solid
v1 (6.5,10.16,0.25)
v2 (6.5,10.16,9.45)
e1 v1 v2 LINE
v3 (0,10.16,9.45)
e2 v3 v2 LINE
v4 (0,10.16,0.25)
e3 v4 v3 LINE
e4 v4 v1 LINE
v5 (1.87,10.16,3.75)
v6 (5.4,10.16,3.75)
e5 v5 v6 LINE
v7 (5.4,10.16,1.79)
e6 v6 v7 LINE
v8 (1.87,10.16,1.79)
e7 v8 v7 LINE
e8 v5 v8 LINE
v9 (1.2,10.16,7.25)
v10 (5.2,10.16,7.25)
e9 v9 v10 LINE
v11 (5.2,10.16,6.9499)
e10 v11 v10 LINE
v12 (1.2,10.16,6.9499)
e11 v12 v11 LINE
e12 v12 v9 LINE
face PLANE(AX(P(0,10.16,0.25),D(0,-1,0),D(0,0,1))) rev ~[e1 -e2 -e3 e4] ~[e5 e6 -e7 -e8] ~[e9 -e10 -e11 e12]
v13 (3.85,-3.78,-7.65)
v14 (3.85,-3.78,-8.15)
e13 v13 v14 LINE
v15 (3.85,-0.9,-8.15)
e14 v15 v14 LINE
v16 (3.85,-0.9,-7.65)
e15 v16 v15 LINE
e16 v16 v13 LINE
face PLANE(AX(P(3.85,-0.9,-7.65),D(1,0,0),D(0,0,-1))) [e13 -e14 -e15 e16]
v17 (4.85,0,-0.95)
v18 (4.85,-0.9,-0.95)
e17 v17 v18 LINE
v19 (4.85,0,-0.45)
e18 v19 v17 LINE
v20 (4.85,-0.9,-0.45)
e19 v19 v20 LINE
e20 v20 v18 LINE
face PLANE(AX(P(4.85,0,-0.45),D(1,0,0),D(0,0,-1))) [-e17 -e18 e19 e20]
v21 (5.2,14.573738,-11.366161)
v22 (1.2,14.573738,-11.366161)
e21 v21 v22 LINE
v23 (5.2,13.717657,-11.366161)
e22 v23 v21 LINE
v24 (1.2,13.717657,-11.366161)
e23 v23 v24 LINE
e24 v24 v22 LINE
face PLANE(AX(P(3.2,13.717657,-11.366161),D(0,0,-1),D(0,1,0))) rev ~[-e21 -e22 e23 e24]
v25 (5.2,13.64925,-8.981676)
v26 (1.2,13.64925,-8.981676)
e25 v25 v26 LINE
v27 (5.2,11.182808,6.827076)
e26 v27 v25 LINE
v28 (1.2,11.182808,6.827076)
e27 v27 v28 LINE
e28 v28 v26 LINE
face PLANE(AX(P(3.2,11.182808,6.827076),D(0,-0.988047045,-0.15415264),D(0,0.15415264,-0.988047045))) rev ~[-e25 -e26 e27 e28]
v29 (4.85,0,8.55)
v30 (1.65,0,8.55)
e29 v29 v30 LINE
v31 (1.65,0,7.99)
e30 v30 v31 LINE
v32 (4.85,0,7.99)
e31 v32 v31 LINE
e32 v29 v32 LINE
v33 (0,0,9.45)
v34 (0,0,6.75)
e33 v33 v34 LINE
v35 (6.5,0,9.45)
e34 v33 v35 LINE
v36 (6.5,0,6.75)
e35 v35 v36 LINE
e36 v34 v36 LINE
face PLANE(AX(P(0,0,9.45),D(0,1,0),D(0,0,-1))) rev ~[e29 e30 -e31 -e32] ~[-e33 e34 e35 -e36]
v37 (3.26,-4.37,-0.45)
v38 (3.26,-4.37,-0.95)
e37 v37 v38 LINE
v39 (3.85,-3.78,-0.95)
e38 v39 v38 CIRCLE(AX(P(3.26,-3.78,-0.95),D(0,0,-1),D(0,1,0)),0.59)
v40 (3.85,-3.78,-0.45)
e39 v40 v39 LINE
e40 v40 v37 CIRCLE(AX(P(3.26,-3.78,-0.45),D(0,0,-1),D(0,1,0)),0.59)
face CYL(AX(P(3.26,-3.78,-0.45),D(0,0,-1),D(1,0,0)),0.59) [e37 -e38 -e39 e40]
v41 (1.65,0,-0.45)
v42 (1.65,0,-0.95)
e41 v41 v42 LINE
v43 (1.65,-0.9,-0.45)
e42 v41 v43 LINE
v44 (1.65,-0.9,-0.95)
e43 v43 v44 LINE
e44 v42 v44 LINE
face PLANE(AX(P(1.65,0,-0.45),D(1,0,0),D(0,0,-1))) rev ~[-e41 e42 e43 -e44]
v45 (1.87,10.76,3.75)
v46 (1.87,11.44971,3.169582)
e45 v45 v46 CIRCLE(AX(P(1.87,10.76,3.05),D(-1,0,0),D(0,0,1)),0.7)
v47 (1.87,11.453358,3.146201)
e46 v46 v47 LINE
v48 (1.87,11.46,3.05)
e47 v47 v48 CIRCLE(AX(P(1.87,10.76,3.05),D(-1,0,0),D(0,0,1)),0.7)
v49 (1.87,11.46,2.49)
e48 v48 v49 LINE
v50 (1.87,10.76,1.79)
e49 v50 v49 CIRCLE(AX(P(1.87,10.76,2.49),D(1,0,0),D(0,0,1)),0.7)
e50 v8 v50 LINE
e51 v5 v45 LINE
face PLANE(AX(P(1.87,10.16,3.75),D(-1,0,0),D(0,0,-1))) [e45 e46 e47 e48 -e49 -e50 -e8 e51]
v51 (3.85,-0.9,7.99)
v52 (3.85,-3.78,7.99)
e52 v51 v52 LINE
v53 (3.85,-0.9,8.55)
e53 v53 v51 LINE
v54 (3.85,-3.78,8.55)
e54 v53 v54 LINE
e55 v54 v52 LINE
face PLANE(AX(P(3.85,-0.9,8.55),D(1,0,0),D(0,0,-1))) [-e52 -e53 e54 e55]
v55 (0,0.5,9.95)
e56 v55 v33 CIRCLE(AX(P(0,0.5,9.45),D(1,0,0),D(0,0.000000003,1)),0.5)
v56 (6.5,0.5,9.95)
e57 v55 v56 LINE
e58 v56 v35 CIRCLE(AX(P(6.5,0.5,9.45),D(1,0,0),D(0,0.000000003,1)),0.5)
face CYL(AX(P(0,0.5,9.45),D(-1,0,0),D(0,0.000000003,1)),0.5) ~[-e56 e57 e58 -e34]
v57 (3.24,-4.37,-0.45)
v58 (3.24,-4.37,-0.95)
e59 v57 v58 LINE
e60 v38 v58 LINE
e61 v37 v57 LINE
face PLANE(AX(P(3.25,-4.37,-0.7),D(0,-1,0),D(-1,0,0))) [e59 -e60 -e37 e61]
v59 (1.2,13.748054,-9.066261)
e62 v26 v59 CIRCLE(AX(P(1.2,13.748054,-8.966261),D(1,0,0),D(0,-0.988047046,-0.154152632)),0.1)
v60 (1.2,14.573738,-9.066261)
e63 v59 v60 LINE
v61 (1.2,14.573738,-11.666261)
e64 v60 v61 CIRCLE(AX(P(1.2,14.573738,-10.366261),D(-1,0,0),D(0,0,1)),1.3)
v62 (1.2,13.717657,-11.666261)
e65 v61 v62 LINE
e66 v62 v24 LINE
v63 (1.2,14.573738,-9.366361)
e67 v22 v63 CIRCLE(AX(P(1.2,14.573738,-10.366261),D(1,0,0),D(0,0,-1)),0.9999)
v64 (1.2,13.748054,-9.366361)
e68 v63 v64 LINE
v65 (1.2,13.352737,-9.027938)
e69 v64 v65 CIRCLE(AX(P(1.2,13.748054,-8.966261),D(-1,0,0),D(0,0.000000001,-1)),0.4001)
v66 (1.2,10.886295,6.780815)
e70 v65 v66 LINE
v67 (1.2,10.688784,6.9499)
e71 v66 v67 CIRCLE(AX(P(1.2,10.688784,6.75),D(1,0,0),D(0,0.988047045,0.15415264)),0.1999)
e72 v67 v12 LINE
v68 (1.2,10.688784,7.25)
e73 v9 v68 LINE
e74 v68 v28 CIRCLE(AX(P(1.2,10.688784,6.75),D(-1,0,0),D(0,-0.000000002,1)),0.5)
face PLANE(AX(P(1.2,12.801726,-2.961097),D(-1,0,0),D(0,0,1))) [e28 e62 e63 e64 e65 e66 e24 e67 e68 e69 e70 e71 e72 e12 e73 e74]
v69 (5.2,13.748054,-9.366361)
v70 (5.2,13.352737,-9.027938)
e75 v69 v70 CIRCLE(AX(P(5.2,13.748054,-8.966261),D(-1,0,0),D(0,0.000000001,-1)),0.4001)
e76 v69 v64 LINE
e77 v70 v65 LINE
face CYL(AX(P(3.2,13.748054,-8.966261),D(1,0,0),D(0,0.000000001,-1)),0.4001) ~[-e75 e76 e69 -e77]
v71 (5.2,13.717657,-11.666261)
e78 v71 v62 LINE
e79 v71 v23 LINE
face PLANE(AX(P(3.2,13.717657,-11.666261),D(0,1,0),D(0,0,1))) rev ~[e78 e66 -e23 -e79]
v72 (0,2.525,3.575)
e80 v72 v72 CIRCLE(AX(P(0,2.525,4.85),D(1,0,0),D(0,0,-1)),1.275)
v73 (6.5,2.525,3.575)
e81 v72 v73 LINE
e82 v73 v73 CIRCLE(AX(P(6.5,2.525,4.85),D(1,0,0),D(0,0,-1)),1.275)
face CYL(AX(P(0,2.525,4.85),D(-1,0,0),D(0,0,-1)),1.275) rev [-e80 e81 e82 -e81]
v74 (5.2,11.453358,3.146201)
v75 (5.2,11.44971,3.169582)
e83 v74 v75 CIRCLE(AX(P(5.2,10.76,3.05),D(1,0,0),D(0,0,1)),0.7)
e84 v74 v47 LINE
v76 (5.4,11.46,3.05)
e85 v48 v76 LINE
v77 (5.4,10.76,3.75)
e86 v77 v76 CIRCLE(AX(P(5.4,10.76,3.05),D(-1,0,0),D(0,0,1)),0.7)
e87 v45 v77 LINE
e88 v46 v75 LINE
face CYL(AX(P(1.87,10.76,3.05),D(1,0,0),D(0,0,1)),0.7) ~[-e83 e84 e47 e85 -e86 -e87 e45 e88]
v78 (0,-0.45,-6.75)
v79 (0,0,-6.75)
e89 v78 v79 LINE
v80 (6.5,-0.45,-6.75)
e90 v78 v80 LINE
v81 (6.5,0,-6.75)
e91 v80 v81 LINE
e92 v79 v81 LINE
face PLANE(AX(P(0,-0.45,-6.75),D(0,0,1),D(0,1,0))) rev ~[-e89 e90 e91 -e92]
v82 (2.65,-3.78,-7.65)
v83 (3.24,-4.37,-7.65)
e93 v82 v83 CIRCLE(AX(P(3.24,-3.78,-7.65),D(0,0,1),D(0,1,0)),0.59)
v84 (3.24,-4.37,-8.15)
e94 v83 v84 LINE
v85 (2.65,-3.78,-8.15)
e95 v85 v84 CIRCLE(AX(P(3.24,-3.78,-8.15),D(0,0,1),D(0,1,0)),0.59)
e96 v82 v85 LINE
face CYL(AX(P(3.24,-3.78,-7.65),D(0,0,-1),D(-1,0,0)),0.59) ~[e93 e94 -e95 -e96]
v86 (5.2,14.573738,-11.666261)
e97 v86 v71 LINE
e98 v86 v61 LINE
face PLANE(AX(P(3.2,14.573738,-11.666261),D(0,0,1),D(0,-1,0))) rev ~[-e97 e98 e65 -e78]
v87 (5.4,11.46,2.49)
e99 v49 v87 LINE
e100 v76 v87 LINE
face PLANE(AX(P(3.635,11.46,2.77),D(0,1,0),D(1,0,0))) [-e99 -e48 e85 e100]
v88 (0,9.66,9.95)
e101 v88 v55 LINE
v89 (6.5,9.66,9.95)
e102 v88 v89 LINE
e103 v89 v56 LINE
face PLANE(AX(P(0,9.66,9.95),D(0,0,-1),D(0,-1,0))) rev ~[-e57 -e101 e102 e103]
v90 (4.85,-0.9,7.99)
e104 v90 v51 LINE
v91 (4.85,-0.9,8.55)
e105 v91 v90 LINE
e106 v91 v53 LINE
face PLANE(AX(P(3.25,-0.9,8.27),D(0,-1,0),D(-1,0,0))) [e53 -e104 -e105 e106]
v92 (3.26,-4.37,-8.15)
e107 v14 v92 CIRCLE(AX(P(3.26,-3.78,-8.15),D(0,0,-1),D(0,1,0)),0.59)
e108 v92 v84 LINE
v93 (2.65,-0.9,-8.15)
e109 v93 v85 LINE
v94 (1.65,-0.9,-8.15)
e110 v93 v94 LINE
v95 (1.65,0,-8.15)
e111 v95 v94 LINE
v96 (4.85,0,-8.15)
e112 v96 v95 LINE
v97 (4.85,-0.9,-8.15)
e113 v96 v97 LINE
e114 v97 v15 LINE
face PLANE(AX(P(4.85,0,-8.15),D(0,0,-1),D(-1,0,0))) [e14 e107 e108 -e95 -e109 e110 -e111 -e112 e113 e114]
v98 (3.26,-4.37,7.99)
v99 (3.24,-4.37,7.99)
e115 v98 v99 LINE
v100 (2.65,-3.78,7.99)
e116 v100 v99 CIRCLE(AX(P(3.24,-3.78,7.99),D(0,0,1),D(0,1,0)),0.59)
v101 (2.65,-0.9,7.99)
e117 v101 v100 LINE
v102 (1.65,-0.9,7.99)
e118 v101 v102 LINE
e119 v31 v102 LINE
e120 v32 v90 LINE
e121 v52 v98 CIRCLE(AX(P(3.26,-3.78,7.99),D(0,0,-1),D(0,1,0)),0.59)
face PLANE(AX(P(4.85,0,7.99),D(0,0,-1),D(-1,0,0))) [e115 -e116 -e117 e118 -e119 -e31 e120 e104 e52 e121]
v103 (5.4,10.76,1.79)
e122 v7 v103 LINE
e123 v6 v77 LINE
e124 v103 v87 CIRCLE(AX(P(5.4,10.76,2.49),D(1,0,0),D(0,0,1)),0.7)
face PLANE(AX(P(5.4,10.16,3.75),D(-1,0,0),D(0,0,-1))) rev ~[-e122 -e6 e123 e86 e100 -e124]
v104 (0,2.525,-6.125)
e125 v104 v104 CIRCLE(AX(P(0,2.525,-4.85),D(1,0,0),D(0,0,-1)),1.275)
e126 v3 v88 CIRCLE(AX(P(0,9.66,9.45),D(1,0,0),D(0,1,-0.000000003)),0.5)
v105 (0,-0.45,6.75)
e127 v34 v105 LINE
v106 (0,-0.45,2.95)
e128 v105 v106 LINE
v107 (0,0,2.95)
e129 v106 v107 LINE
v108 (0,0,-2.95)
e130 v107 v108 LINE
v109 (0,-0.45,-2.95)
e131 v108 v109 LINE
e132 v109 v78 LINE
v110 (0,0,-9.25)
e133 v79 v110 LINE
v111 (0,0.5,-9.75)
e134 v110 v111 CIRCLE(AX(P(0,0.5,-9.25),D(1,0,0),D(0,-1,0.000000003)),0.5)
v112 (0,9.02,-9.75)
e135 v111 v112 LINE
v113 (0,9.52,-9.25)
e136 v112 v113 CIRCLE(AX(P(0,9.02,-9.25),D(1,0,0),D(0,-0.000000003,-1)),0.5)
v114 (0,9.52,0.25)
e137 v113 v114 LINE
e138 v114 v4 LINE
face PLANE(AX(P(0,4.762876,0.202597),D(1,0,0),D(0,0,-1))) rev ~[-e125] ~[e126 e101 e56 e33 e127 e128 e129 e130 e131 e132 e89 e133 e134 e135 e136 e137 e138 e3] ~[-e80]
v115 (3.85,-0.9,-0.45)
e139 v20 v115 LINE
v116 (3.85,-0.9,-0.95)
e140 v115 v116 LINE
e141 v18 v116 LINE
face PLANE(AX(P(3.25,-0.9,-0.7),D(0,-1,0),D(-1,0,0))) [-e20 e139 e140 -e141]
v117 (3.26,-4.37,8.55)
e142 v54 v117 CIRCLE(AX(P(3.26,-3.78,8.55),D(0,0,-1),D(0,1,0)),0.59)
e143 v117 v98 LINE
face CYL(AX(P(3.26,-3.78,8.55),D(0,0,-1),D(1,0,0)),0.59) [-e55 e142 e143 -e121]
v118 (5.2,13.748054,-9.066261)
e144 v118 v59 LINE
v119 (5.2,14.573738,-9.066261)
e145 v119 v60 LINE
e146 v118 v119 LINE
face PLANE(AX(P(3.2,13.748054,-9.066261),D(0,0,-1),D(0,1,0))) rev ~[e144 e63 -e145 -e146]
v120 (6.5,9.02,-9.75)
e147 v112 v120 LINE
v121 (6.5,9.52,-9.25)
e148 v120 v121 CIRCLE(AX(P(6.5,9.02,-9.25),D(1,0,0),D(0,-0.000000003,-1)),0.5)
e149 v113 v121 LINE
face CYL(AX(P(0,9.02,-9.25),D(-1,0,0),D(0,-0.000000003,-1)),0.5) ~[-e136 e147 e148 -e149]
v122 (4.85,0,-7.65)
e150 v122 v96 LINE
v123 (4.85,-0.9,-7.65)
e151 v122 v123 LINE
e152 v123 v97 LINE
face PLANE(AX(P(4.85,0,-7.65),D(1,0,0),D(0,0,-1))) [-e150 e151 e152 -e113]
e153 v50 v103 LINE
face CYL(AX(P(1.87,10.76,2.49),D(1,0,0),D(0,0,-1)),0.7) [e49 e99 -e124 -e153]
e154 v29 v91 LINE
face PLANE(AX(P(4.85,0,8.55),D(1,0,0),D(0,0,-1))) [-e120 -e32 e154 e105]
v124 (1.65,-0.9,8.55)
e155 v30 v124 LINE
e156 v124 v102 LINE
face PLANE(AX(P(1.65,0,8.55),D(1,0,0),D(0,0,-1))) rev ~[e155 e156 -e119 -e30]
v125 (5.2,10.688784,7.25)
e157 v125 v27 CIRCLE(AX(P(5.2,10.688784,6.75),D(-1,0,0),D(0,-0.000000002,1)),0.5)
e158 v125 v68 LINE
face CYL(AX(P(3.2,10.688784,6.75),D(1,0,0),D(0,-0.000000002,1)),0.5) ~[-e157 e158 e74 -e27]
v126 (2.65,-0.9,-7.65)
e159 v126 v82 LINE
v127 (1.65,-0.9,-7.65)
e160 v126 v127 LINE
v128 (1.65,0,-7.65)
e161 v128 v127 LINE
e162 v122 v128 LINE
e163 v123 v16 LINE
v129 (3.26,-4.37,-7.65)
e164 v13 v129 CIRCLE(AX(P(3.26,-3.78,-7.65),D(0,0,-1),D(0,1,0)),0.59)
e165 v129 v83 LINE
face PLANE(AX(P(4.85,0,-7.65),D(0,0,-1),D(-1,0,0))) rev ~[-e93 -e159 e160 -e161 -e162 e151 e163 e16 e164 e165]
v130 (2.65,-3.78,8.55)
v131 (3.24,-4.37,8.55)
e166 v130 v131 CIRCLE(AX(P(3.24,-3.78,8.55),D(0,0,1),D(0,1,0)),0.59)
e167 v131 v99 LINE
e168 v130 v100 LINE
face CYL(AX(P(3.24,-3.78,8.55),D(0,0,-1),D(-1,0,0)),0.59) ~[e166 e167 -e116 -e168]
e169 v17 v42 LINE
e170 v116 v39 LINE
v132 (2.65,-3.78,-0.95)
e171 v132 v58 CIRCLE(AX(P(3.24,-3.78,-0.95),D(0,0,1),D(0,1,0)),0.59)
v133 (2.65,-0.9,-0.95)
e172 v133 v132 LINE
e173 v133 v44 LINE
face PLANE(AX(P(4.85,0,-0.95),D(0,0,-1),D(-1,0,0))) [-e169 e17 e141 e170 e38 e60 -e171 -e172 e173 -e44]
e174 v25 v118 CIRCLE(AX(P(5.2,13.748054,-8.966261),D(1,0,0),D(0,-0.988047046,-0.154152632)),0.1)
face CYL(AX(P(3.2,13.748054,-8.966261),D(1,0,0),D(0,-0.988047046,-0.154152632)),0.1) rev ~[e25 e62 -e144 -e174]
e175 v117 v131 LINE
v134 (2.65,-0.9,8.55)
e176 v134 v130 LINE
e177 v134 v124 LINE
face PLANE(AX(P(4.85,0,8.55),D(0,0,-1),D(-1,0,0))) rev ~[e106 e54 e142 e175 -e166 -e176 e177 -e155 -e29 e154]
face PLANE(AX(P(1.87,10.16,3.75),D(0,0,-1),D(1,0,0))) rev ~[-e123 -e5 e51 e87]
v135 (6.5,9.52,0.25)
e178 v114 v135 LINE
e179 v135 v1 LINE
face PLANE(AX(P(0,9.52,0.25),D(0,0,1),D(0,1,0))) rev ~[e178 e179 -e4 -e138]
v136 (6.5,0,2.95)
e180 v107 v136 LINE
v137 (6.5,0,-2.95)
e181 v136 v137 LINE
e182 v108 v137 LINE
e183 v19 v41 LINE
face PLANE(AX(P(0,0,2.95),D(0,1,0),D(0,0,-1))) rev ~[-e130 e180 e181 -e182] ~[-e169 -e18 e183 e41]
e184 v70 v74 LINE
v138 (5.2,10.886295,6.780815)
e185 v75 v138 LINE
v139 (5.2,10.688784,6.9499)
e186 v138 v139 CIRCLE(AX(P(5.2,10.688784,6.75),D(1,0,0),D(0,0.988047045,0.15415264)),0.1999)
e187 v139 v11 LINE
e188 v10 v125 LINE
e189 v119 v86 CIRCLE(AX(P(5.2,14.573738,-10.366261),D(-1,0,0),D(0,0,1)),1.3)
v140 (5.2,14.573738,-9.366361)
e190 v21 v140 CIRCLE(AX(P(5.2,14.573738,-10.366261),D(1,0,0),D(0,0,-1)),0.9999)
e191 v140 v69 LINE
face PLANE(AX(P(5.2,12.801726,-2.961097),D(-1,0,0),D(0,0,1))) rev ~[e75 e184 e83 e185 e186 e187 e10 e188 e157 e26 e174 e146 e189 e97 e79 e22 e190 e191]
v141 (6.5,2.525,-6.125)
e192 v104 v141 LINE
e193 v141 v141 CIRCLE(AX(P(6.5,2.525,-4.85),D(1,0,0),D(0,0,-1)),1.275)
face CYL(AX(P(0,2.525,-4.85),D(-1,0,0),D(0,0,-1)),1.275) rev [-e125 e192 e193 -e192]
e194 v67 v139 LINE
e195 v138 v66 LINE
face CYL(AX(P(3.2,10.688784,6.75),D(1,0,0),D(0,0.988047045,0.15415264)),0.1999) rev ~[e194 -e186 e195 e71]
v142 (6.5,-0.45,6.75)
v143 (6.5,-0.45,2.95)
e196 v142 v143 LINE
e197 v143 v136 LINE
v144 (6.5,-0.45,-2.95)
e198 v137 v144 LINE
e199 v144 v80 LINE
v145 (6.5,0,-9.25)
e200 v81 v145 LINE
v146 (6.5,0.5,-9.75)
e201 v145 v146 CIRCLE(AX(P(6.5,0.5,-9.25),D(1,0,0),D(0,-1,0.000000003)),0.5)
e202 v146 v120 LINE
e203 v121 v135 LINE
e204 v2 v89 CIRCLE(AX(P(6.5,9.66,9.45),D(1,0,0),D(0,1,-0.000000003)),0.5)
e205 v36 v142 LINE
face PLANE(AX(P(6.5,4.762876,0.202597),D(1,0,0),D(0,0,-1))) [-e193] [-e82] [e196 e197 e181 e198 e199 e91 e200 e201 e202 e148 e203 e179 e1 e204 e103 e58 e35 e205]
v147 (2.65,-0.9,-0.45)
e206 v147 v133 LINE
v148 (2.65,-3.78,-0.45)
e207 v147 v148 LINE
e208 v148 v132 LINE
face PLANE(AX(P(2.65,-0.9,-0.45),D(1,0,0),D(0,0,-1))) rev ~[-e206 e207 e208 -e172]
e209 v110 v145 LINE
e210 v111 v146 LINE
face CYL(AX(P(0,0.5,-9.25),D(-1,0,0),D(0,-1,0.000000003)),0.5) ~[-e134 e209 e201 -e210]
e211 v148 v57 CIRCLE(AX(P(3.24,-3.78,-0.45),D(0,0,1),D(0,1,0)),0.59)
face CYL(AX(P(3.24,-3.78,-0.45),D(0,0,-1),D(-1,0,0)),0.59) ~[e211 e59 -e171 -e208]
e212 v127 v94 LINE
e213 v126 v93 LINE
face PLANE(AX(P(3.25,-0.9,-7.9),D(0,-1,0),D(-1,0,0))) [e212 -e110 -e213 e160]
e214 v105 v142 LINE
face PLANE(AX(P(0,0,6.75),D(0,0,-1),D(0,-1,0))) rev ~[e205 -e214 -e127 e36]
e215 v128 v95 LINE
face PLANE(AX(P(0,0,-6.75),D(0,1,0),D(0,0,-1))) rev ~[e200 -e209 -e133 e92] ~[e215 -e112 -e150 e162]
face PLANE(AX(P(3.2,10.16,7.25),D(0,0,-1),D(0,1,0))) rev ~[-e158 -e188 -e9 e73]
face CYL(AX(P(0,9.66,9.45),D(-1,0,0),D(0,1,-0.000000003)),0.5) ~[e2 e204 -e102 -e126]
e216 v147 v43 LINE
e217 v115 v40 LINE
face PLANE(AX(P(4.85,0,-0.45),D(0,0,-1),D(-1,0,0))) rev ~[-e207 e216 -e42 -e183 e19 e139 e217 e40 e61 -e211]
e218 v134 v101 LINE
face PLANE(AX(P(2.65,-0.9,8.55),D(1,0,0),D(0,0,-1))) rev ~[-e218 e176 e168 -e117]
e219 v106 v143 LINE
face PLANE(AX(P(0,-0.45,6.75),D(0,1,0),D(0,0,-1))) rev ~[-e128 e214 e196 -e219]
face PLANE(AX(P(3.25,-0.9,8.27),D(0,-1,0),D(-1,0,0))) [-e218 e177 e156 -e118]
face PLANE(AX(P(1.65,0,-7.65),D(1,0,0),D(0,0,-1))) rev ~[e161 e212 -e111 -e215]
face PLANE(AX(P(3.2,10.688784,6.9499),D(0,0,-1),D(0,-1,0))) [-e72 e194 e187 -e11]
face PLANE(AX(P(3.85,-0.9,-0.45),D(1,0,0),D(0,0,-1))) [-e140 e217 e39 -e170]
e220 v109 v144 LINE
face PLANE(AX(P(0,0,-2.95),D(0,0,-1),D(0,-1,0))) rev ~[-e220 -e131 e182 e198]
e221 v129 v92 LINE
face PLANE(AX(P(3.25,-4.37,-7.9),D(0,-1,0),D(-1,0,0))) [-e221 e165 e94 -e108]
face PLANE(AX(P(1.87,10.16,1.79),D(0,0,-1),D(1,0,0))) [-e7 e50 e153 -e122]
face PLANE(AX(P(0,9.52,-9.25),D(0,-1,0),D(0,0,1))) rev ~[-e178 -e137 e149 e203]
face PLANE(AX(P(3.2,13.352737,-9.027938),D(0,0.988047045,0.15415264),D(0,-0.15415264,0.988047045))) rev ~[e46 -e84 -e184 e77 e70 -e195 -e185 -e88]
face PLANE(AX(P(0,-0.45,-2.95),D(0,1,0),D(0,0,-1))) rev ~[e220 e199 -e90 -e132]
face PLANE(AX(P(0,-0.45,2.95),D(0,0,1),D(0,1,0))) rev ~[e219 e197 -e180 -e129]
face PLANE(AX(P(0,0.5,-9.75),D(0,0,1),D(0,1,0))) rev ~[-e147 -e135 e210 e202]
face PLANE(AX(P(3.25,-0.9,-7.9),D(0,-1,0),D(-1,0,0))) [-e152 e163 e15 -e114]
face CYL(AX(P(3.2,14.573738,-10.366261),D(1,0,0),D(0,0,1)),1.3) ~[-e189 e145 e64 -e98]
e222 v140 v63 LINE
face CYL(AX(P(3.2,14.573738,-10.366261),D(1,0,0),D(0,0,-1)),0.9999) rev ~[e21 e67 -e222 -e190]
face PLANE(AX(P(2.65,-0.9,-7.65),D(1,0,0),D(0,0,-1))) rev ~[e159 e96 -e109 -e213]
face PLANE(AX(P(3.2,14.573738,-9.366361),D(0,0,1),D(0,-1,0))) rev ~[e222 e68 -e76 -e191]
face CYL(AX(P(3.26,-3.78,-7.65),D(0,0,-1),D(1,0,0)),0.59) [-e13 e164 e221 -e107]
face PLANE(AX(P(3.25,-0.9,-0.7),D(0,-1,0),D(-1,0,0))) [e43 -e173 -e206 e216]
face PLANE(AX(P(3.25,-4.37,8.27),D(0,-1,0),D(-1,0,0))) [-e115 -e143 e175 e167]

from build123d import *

# Parameters (mm, degrees)
SKETCH1_R               = 1.275
BOSS_EXTRUDE1_DEPTH     = 6.5
SKETCH2_W               = 3.53
SKETCH2_H               = 1.96
BOSS_EXTRUDE2_DEPTH     = 1.3
FILLET1_R               = 0.7
SKETCH3_W               = 3.2
SKETCH3_H               = 0.56
SKETCH3_H_2             = 0.5
BOSS_EXTRUDE3_DEPTH     = 0.9
SKETCH4_W               = 1.2
SKETCH4_H               = 0.56
SKETCH4_H_2             = 0.5
BOSS_EXTRUDE4_DEPTH     = 3.47
FILLET2_R               = 0.59
EXTRU_MINCE1_DEPTH      = 2
EXTRU_MINCE1_DEPTH_BACK = 2


with BuildPart() as part:
    # Sketch1 → Boss-Extrude1 (new body)
    with BuildSketch(Plane(origin=(0, 0, 0), x_dir=(0, 0, -1), z_dir=(1, 0, 0))):
        with BuildLine():
            Line((-9.45, 0), (-6.75, 0))
            Line((-6.75, 0), (-6.75, -0.45))
            Line((-6.75, -0.45), (-2.95, -0.45))
            Line((-2.95, -0.45), (-2.95, 0))
            Line((-2.95, 0), (2.95, 0))
            Line((2.95, 0), (2.95, -0.45))
            Line((2.95, -0.45), (6.75, -0.45))
            Line((6.75, -0.45), (6.75, 0))
            Line((6.75, 0), (9.25, 0))
            ThreePointArc((9.25, 0), (9.603553391, 0.146446609), (9.75, 0.5))
            Line((9.75, 0.5), (9.75, 9.02))
            ThreePointArc((9.75, 9.02), (9.603553391, 9.373553391), (9.25, 9.52))
            Line((9.25, 9.52), (-0.25, 9.52))
            Line((-0.25, 9.52), (-0.25, 10.16))
            Line((-0.25, 10.16), (-9.45, 10.16))
            ThreePointArc((-9.45, 10.16), (-9.803553391, 10.013553391), (-9.95, 9.66))
            Line((-9.95, 9.66), (-9.95, 0.5))
            ThreePointArc((-9.95, 0.5), (-9.803553391, 0.146446609), (-9.45, 0))
        make_face()
        with Locations((-4.85, 2.525)):
            Circle(SKETCH1_R, mode=Mode.SUBTRACT)
        with Locations((4.85, 2.525)):
            Circle(SKETCH1_R, mode=Mode.SUBTRACT)
    extrude(amount=BOSS_EXTRUDE1_DEPTH)

    # Sketch2 → Boss-Extrude2 (add)
    with BuildSketch(Plane(origin=(0, 10.16, 0), x_dir=(1, 0, 0), z_dir=(0, 1, 0))):
        with Locations((3.635, -2.77)):
            Rectangle(SKETCH2_W, SKETCH2_H)
    extrude(amount=BOSS_EXTRUDE2_DEPTH)

    # Fillet1
    fillet1_edges = [part.edges().sort_by_distance(p)[0] for p in [
        (3.635, 11.46, 3.75),
        (3.635, 11.46, 1.79),
    ]]
    fillet(fillet1_edges, radius=FILLET1_R)

    # Sketch3 → Boss-Extrude3 (add)
    with BuildSketch(Plane(origin=(0, 0, 0), x_dir=(-1, 0, 0), z_dir=(0, -1, 0))):
        with Locations((-3.25, -8.27)):
            Rectangle(SKETCH3_W, SKETCH3_H)
        with Locations((-3.25, 0.7)):
            Rectangle(SKETCH3_W, SKETCH3_H_2)
        with Locations((-3.25, 7.9)):
            Rectangle(SKETCH3_W, SKETCH3_H_2)
    extrude(amount=BOSS_EXTRUDE3_DEPTH)

    # Sketch4 → Boss-Extrude4 (add)
    with BuildSketch(Plane(origin=(0, -0.9, 0), x_dir=(-1, 0, 0), z_dir=(0, -1, 0))):
        with Locations((-3.25, -8.27)):
            Rectangle(SKETCH4_W, SKETCH4_H)
        with Locations((-3.25, 0.7)):
            Rectangle(SKETCH4_W, SKETCH4_H_2)
        with Locations((-3.25, 7.9)):
            Rectangle(SKETCH4_W, SKETCH4_H_2)
    extrude(amount=BOSS_EXTRUDE4_DEPTH)

    # Fillet2
    fillet2_edges = [part.edges().sort_by_distance(p)[0] for p in [
        (2.65, -4.37, 8.27),
        (3.85, -4.37, 8.27),
        (2.65, -4.37, -0.7),
        (3.85, -4.37, -0.7),
        (3.85, -4.37, -7.9),
        (2.65, -4.37, -7.9),
    ]]
    fillet(fillet2_edges, radius=FILLET2_R)

    # Esquisse1 → Extru.-Mince1 (add, two sides)
    with BuildSketch(Plane(origin=(3.2, 0, 0), x_dir=(0, 0, -1), z_dir=(1, 0, 0))) as extru_mince1_sk:
        with BuildLine():
            Line((-7.25, 10.16), (-7.25, 10.688783991))
            ThreePointArc((-7.25, 10.688783991), (-7.129827698, 11.013946904), (-6.82707632, 11.182807513))
            Line((-6.82707632, 11.182807513), (8.981676404, 13.649249751))
            ThreePointArc((8.981676404, 13.649249751), (9.04222668, 13.683021873), (9.06626114, 13.748054456))
            Line((9.06626114, 13.748054456), (9.06626114, 14.573737504))
            ThreePointArc((9.06626114, 14.573737504), (10.36626114, 15.873737504), (11.66626114, 14.573737504))
            Line((11.66626114, 14.573737504), (11.66626114, 13.717657457))
            Line((11.66626114, 13.717657457), (11.36616114, 13.717657457))
            Line((11.36616114, 13.717657457), (11.36616114, 14.573737504))
            ThreePointArc((11.36616114, 14.573737504), (10.36626114, 15.573637504), (9.36636114, 14.573737504))
            Line((9.36636114, 14.573737504), (9.36636114, 13.748054456))
            ThreePointArc((9.36636114, 13.748054456), (9.270199264, 13.487859093), (9.027937611, 13.352736833))
            Line((9.027937611, 13.352736833), (-6.780815113, 10.886294595))
            ThreePointArc((-6.780815113, 10.886294595), (-6.901855114, 10.818784123), (-6.9499, 10.688783991))
            Line((-6.9499, 10.688783991), (-6.9499, 10.16))
            Line((-6.9499, 10.16), (-7.25, 10.16))
        make_face()
    extrude(amount=EXTRU_MINCE1_DEPTH)
    extrude(extru_mince1_sk.sketch, amount=-EXTRU_MINCE1_DEPTH_BACK)


solid = part.part
